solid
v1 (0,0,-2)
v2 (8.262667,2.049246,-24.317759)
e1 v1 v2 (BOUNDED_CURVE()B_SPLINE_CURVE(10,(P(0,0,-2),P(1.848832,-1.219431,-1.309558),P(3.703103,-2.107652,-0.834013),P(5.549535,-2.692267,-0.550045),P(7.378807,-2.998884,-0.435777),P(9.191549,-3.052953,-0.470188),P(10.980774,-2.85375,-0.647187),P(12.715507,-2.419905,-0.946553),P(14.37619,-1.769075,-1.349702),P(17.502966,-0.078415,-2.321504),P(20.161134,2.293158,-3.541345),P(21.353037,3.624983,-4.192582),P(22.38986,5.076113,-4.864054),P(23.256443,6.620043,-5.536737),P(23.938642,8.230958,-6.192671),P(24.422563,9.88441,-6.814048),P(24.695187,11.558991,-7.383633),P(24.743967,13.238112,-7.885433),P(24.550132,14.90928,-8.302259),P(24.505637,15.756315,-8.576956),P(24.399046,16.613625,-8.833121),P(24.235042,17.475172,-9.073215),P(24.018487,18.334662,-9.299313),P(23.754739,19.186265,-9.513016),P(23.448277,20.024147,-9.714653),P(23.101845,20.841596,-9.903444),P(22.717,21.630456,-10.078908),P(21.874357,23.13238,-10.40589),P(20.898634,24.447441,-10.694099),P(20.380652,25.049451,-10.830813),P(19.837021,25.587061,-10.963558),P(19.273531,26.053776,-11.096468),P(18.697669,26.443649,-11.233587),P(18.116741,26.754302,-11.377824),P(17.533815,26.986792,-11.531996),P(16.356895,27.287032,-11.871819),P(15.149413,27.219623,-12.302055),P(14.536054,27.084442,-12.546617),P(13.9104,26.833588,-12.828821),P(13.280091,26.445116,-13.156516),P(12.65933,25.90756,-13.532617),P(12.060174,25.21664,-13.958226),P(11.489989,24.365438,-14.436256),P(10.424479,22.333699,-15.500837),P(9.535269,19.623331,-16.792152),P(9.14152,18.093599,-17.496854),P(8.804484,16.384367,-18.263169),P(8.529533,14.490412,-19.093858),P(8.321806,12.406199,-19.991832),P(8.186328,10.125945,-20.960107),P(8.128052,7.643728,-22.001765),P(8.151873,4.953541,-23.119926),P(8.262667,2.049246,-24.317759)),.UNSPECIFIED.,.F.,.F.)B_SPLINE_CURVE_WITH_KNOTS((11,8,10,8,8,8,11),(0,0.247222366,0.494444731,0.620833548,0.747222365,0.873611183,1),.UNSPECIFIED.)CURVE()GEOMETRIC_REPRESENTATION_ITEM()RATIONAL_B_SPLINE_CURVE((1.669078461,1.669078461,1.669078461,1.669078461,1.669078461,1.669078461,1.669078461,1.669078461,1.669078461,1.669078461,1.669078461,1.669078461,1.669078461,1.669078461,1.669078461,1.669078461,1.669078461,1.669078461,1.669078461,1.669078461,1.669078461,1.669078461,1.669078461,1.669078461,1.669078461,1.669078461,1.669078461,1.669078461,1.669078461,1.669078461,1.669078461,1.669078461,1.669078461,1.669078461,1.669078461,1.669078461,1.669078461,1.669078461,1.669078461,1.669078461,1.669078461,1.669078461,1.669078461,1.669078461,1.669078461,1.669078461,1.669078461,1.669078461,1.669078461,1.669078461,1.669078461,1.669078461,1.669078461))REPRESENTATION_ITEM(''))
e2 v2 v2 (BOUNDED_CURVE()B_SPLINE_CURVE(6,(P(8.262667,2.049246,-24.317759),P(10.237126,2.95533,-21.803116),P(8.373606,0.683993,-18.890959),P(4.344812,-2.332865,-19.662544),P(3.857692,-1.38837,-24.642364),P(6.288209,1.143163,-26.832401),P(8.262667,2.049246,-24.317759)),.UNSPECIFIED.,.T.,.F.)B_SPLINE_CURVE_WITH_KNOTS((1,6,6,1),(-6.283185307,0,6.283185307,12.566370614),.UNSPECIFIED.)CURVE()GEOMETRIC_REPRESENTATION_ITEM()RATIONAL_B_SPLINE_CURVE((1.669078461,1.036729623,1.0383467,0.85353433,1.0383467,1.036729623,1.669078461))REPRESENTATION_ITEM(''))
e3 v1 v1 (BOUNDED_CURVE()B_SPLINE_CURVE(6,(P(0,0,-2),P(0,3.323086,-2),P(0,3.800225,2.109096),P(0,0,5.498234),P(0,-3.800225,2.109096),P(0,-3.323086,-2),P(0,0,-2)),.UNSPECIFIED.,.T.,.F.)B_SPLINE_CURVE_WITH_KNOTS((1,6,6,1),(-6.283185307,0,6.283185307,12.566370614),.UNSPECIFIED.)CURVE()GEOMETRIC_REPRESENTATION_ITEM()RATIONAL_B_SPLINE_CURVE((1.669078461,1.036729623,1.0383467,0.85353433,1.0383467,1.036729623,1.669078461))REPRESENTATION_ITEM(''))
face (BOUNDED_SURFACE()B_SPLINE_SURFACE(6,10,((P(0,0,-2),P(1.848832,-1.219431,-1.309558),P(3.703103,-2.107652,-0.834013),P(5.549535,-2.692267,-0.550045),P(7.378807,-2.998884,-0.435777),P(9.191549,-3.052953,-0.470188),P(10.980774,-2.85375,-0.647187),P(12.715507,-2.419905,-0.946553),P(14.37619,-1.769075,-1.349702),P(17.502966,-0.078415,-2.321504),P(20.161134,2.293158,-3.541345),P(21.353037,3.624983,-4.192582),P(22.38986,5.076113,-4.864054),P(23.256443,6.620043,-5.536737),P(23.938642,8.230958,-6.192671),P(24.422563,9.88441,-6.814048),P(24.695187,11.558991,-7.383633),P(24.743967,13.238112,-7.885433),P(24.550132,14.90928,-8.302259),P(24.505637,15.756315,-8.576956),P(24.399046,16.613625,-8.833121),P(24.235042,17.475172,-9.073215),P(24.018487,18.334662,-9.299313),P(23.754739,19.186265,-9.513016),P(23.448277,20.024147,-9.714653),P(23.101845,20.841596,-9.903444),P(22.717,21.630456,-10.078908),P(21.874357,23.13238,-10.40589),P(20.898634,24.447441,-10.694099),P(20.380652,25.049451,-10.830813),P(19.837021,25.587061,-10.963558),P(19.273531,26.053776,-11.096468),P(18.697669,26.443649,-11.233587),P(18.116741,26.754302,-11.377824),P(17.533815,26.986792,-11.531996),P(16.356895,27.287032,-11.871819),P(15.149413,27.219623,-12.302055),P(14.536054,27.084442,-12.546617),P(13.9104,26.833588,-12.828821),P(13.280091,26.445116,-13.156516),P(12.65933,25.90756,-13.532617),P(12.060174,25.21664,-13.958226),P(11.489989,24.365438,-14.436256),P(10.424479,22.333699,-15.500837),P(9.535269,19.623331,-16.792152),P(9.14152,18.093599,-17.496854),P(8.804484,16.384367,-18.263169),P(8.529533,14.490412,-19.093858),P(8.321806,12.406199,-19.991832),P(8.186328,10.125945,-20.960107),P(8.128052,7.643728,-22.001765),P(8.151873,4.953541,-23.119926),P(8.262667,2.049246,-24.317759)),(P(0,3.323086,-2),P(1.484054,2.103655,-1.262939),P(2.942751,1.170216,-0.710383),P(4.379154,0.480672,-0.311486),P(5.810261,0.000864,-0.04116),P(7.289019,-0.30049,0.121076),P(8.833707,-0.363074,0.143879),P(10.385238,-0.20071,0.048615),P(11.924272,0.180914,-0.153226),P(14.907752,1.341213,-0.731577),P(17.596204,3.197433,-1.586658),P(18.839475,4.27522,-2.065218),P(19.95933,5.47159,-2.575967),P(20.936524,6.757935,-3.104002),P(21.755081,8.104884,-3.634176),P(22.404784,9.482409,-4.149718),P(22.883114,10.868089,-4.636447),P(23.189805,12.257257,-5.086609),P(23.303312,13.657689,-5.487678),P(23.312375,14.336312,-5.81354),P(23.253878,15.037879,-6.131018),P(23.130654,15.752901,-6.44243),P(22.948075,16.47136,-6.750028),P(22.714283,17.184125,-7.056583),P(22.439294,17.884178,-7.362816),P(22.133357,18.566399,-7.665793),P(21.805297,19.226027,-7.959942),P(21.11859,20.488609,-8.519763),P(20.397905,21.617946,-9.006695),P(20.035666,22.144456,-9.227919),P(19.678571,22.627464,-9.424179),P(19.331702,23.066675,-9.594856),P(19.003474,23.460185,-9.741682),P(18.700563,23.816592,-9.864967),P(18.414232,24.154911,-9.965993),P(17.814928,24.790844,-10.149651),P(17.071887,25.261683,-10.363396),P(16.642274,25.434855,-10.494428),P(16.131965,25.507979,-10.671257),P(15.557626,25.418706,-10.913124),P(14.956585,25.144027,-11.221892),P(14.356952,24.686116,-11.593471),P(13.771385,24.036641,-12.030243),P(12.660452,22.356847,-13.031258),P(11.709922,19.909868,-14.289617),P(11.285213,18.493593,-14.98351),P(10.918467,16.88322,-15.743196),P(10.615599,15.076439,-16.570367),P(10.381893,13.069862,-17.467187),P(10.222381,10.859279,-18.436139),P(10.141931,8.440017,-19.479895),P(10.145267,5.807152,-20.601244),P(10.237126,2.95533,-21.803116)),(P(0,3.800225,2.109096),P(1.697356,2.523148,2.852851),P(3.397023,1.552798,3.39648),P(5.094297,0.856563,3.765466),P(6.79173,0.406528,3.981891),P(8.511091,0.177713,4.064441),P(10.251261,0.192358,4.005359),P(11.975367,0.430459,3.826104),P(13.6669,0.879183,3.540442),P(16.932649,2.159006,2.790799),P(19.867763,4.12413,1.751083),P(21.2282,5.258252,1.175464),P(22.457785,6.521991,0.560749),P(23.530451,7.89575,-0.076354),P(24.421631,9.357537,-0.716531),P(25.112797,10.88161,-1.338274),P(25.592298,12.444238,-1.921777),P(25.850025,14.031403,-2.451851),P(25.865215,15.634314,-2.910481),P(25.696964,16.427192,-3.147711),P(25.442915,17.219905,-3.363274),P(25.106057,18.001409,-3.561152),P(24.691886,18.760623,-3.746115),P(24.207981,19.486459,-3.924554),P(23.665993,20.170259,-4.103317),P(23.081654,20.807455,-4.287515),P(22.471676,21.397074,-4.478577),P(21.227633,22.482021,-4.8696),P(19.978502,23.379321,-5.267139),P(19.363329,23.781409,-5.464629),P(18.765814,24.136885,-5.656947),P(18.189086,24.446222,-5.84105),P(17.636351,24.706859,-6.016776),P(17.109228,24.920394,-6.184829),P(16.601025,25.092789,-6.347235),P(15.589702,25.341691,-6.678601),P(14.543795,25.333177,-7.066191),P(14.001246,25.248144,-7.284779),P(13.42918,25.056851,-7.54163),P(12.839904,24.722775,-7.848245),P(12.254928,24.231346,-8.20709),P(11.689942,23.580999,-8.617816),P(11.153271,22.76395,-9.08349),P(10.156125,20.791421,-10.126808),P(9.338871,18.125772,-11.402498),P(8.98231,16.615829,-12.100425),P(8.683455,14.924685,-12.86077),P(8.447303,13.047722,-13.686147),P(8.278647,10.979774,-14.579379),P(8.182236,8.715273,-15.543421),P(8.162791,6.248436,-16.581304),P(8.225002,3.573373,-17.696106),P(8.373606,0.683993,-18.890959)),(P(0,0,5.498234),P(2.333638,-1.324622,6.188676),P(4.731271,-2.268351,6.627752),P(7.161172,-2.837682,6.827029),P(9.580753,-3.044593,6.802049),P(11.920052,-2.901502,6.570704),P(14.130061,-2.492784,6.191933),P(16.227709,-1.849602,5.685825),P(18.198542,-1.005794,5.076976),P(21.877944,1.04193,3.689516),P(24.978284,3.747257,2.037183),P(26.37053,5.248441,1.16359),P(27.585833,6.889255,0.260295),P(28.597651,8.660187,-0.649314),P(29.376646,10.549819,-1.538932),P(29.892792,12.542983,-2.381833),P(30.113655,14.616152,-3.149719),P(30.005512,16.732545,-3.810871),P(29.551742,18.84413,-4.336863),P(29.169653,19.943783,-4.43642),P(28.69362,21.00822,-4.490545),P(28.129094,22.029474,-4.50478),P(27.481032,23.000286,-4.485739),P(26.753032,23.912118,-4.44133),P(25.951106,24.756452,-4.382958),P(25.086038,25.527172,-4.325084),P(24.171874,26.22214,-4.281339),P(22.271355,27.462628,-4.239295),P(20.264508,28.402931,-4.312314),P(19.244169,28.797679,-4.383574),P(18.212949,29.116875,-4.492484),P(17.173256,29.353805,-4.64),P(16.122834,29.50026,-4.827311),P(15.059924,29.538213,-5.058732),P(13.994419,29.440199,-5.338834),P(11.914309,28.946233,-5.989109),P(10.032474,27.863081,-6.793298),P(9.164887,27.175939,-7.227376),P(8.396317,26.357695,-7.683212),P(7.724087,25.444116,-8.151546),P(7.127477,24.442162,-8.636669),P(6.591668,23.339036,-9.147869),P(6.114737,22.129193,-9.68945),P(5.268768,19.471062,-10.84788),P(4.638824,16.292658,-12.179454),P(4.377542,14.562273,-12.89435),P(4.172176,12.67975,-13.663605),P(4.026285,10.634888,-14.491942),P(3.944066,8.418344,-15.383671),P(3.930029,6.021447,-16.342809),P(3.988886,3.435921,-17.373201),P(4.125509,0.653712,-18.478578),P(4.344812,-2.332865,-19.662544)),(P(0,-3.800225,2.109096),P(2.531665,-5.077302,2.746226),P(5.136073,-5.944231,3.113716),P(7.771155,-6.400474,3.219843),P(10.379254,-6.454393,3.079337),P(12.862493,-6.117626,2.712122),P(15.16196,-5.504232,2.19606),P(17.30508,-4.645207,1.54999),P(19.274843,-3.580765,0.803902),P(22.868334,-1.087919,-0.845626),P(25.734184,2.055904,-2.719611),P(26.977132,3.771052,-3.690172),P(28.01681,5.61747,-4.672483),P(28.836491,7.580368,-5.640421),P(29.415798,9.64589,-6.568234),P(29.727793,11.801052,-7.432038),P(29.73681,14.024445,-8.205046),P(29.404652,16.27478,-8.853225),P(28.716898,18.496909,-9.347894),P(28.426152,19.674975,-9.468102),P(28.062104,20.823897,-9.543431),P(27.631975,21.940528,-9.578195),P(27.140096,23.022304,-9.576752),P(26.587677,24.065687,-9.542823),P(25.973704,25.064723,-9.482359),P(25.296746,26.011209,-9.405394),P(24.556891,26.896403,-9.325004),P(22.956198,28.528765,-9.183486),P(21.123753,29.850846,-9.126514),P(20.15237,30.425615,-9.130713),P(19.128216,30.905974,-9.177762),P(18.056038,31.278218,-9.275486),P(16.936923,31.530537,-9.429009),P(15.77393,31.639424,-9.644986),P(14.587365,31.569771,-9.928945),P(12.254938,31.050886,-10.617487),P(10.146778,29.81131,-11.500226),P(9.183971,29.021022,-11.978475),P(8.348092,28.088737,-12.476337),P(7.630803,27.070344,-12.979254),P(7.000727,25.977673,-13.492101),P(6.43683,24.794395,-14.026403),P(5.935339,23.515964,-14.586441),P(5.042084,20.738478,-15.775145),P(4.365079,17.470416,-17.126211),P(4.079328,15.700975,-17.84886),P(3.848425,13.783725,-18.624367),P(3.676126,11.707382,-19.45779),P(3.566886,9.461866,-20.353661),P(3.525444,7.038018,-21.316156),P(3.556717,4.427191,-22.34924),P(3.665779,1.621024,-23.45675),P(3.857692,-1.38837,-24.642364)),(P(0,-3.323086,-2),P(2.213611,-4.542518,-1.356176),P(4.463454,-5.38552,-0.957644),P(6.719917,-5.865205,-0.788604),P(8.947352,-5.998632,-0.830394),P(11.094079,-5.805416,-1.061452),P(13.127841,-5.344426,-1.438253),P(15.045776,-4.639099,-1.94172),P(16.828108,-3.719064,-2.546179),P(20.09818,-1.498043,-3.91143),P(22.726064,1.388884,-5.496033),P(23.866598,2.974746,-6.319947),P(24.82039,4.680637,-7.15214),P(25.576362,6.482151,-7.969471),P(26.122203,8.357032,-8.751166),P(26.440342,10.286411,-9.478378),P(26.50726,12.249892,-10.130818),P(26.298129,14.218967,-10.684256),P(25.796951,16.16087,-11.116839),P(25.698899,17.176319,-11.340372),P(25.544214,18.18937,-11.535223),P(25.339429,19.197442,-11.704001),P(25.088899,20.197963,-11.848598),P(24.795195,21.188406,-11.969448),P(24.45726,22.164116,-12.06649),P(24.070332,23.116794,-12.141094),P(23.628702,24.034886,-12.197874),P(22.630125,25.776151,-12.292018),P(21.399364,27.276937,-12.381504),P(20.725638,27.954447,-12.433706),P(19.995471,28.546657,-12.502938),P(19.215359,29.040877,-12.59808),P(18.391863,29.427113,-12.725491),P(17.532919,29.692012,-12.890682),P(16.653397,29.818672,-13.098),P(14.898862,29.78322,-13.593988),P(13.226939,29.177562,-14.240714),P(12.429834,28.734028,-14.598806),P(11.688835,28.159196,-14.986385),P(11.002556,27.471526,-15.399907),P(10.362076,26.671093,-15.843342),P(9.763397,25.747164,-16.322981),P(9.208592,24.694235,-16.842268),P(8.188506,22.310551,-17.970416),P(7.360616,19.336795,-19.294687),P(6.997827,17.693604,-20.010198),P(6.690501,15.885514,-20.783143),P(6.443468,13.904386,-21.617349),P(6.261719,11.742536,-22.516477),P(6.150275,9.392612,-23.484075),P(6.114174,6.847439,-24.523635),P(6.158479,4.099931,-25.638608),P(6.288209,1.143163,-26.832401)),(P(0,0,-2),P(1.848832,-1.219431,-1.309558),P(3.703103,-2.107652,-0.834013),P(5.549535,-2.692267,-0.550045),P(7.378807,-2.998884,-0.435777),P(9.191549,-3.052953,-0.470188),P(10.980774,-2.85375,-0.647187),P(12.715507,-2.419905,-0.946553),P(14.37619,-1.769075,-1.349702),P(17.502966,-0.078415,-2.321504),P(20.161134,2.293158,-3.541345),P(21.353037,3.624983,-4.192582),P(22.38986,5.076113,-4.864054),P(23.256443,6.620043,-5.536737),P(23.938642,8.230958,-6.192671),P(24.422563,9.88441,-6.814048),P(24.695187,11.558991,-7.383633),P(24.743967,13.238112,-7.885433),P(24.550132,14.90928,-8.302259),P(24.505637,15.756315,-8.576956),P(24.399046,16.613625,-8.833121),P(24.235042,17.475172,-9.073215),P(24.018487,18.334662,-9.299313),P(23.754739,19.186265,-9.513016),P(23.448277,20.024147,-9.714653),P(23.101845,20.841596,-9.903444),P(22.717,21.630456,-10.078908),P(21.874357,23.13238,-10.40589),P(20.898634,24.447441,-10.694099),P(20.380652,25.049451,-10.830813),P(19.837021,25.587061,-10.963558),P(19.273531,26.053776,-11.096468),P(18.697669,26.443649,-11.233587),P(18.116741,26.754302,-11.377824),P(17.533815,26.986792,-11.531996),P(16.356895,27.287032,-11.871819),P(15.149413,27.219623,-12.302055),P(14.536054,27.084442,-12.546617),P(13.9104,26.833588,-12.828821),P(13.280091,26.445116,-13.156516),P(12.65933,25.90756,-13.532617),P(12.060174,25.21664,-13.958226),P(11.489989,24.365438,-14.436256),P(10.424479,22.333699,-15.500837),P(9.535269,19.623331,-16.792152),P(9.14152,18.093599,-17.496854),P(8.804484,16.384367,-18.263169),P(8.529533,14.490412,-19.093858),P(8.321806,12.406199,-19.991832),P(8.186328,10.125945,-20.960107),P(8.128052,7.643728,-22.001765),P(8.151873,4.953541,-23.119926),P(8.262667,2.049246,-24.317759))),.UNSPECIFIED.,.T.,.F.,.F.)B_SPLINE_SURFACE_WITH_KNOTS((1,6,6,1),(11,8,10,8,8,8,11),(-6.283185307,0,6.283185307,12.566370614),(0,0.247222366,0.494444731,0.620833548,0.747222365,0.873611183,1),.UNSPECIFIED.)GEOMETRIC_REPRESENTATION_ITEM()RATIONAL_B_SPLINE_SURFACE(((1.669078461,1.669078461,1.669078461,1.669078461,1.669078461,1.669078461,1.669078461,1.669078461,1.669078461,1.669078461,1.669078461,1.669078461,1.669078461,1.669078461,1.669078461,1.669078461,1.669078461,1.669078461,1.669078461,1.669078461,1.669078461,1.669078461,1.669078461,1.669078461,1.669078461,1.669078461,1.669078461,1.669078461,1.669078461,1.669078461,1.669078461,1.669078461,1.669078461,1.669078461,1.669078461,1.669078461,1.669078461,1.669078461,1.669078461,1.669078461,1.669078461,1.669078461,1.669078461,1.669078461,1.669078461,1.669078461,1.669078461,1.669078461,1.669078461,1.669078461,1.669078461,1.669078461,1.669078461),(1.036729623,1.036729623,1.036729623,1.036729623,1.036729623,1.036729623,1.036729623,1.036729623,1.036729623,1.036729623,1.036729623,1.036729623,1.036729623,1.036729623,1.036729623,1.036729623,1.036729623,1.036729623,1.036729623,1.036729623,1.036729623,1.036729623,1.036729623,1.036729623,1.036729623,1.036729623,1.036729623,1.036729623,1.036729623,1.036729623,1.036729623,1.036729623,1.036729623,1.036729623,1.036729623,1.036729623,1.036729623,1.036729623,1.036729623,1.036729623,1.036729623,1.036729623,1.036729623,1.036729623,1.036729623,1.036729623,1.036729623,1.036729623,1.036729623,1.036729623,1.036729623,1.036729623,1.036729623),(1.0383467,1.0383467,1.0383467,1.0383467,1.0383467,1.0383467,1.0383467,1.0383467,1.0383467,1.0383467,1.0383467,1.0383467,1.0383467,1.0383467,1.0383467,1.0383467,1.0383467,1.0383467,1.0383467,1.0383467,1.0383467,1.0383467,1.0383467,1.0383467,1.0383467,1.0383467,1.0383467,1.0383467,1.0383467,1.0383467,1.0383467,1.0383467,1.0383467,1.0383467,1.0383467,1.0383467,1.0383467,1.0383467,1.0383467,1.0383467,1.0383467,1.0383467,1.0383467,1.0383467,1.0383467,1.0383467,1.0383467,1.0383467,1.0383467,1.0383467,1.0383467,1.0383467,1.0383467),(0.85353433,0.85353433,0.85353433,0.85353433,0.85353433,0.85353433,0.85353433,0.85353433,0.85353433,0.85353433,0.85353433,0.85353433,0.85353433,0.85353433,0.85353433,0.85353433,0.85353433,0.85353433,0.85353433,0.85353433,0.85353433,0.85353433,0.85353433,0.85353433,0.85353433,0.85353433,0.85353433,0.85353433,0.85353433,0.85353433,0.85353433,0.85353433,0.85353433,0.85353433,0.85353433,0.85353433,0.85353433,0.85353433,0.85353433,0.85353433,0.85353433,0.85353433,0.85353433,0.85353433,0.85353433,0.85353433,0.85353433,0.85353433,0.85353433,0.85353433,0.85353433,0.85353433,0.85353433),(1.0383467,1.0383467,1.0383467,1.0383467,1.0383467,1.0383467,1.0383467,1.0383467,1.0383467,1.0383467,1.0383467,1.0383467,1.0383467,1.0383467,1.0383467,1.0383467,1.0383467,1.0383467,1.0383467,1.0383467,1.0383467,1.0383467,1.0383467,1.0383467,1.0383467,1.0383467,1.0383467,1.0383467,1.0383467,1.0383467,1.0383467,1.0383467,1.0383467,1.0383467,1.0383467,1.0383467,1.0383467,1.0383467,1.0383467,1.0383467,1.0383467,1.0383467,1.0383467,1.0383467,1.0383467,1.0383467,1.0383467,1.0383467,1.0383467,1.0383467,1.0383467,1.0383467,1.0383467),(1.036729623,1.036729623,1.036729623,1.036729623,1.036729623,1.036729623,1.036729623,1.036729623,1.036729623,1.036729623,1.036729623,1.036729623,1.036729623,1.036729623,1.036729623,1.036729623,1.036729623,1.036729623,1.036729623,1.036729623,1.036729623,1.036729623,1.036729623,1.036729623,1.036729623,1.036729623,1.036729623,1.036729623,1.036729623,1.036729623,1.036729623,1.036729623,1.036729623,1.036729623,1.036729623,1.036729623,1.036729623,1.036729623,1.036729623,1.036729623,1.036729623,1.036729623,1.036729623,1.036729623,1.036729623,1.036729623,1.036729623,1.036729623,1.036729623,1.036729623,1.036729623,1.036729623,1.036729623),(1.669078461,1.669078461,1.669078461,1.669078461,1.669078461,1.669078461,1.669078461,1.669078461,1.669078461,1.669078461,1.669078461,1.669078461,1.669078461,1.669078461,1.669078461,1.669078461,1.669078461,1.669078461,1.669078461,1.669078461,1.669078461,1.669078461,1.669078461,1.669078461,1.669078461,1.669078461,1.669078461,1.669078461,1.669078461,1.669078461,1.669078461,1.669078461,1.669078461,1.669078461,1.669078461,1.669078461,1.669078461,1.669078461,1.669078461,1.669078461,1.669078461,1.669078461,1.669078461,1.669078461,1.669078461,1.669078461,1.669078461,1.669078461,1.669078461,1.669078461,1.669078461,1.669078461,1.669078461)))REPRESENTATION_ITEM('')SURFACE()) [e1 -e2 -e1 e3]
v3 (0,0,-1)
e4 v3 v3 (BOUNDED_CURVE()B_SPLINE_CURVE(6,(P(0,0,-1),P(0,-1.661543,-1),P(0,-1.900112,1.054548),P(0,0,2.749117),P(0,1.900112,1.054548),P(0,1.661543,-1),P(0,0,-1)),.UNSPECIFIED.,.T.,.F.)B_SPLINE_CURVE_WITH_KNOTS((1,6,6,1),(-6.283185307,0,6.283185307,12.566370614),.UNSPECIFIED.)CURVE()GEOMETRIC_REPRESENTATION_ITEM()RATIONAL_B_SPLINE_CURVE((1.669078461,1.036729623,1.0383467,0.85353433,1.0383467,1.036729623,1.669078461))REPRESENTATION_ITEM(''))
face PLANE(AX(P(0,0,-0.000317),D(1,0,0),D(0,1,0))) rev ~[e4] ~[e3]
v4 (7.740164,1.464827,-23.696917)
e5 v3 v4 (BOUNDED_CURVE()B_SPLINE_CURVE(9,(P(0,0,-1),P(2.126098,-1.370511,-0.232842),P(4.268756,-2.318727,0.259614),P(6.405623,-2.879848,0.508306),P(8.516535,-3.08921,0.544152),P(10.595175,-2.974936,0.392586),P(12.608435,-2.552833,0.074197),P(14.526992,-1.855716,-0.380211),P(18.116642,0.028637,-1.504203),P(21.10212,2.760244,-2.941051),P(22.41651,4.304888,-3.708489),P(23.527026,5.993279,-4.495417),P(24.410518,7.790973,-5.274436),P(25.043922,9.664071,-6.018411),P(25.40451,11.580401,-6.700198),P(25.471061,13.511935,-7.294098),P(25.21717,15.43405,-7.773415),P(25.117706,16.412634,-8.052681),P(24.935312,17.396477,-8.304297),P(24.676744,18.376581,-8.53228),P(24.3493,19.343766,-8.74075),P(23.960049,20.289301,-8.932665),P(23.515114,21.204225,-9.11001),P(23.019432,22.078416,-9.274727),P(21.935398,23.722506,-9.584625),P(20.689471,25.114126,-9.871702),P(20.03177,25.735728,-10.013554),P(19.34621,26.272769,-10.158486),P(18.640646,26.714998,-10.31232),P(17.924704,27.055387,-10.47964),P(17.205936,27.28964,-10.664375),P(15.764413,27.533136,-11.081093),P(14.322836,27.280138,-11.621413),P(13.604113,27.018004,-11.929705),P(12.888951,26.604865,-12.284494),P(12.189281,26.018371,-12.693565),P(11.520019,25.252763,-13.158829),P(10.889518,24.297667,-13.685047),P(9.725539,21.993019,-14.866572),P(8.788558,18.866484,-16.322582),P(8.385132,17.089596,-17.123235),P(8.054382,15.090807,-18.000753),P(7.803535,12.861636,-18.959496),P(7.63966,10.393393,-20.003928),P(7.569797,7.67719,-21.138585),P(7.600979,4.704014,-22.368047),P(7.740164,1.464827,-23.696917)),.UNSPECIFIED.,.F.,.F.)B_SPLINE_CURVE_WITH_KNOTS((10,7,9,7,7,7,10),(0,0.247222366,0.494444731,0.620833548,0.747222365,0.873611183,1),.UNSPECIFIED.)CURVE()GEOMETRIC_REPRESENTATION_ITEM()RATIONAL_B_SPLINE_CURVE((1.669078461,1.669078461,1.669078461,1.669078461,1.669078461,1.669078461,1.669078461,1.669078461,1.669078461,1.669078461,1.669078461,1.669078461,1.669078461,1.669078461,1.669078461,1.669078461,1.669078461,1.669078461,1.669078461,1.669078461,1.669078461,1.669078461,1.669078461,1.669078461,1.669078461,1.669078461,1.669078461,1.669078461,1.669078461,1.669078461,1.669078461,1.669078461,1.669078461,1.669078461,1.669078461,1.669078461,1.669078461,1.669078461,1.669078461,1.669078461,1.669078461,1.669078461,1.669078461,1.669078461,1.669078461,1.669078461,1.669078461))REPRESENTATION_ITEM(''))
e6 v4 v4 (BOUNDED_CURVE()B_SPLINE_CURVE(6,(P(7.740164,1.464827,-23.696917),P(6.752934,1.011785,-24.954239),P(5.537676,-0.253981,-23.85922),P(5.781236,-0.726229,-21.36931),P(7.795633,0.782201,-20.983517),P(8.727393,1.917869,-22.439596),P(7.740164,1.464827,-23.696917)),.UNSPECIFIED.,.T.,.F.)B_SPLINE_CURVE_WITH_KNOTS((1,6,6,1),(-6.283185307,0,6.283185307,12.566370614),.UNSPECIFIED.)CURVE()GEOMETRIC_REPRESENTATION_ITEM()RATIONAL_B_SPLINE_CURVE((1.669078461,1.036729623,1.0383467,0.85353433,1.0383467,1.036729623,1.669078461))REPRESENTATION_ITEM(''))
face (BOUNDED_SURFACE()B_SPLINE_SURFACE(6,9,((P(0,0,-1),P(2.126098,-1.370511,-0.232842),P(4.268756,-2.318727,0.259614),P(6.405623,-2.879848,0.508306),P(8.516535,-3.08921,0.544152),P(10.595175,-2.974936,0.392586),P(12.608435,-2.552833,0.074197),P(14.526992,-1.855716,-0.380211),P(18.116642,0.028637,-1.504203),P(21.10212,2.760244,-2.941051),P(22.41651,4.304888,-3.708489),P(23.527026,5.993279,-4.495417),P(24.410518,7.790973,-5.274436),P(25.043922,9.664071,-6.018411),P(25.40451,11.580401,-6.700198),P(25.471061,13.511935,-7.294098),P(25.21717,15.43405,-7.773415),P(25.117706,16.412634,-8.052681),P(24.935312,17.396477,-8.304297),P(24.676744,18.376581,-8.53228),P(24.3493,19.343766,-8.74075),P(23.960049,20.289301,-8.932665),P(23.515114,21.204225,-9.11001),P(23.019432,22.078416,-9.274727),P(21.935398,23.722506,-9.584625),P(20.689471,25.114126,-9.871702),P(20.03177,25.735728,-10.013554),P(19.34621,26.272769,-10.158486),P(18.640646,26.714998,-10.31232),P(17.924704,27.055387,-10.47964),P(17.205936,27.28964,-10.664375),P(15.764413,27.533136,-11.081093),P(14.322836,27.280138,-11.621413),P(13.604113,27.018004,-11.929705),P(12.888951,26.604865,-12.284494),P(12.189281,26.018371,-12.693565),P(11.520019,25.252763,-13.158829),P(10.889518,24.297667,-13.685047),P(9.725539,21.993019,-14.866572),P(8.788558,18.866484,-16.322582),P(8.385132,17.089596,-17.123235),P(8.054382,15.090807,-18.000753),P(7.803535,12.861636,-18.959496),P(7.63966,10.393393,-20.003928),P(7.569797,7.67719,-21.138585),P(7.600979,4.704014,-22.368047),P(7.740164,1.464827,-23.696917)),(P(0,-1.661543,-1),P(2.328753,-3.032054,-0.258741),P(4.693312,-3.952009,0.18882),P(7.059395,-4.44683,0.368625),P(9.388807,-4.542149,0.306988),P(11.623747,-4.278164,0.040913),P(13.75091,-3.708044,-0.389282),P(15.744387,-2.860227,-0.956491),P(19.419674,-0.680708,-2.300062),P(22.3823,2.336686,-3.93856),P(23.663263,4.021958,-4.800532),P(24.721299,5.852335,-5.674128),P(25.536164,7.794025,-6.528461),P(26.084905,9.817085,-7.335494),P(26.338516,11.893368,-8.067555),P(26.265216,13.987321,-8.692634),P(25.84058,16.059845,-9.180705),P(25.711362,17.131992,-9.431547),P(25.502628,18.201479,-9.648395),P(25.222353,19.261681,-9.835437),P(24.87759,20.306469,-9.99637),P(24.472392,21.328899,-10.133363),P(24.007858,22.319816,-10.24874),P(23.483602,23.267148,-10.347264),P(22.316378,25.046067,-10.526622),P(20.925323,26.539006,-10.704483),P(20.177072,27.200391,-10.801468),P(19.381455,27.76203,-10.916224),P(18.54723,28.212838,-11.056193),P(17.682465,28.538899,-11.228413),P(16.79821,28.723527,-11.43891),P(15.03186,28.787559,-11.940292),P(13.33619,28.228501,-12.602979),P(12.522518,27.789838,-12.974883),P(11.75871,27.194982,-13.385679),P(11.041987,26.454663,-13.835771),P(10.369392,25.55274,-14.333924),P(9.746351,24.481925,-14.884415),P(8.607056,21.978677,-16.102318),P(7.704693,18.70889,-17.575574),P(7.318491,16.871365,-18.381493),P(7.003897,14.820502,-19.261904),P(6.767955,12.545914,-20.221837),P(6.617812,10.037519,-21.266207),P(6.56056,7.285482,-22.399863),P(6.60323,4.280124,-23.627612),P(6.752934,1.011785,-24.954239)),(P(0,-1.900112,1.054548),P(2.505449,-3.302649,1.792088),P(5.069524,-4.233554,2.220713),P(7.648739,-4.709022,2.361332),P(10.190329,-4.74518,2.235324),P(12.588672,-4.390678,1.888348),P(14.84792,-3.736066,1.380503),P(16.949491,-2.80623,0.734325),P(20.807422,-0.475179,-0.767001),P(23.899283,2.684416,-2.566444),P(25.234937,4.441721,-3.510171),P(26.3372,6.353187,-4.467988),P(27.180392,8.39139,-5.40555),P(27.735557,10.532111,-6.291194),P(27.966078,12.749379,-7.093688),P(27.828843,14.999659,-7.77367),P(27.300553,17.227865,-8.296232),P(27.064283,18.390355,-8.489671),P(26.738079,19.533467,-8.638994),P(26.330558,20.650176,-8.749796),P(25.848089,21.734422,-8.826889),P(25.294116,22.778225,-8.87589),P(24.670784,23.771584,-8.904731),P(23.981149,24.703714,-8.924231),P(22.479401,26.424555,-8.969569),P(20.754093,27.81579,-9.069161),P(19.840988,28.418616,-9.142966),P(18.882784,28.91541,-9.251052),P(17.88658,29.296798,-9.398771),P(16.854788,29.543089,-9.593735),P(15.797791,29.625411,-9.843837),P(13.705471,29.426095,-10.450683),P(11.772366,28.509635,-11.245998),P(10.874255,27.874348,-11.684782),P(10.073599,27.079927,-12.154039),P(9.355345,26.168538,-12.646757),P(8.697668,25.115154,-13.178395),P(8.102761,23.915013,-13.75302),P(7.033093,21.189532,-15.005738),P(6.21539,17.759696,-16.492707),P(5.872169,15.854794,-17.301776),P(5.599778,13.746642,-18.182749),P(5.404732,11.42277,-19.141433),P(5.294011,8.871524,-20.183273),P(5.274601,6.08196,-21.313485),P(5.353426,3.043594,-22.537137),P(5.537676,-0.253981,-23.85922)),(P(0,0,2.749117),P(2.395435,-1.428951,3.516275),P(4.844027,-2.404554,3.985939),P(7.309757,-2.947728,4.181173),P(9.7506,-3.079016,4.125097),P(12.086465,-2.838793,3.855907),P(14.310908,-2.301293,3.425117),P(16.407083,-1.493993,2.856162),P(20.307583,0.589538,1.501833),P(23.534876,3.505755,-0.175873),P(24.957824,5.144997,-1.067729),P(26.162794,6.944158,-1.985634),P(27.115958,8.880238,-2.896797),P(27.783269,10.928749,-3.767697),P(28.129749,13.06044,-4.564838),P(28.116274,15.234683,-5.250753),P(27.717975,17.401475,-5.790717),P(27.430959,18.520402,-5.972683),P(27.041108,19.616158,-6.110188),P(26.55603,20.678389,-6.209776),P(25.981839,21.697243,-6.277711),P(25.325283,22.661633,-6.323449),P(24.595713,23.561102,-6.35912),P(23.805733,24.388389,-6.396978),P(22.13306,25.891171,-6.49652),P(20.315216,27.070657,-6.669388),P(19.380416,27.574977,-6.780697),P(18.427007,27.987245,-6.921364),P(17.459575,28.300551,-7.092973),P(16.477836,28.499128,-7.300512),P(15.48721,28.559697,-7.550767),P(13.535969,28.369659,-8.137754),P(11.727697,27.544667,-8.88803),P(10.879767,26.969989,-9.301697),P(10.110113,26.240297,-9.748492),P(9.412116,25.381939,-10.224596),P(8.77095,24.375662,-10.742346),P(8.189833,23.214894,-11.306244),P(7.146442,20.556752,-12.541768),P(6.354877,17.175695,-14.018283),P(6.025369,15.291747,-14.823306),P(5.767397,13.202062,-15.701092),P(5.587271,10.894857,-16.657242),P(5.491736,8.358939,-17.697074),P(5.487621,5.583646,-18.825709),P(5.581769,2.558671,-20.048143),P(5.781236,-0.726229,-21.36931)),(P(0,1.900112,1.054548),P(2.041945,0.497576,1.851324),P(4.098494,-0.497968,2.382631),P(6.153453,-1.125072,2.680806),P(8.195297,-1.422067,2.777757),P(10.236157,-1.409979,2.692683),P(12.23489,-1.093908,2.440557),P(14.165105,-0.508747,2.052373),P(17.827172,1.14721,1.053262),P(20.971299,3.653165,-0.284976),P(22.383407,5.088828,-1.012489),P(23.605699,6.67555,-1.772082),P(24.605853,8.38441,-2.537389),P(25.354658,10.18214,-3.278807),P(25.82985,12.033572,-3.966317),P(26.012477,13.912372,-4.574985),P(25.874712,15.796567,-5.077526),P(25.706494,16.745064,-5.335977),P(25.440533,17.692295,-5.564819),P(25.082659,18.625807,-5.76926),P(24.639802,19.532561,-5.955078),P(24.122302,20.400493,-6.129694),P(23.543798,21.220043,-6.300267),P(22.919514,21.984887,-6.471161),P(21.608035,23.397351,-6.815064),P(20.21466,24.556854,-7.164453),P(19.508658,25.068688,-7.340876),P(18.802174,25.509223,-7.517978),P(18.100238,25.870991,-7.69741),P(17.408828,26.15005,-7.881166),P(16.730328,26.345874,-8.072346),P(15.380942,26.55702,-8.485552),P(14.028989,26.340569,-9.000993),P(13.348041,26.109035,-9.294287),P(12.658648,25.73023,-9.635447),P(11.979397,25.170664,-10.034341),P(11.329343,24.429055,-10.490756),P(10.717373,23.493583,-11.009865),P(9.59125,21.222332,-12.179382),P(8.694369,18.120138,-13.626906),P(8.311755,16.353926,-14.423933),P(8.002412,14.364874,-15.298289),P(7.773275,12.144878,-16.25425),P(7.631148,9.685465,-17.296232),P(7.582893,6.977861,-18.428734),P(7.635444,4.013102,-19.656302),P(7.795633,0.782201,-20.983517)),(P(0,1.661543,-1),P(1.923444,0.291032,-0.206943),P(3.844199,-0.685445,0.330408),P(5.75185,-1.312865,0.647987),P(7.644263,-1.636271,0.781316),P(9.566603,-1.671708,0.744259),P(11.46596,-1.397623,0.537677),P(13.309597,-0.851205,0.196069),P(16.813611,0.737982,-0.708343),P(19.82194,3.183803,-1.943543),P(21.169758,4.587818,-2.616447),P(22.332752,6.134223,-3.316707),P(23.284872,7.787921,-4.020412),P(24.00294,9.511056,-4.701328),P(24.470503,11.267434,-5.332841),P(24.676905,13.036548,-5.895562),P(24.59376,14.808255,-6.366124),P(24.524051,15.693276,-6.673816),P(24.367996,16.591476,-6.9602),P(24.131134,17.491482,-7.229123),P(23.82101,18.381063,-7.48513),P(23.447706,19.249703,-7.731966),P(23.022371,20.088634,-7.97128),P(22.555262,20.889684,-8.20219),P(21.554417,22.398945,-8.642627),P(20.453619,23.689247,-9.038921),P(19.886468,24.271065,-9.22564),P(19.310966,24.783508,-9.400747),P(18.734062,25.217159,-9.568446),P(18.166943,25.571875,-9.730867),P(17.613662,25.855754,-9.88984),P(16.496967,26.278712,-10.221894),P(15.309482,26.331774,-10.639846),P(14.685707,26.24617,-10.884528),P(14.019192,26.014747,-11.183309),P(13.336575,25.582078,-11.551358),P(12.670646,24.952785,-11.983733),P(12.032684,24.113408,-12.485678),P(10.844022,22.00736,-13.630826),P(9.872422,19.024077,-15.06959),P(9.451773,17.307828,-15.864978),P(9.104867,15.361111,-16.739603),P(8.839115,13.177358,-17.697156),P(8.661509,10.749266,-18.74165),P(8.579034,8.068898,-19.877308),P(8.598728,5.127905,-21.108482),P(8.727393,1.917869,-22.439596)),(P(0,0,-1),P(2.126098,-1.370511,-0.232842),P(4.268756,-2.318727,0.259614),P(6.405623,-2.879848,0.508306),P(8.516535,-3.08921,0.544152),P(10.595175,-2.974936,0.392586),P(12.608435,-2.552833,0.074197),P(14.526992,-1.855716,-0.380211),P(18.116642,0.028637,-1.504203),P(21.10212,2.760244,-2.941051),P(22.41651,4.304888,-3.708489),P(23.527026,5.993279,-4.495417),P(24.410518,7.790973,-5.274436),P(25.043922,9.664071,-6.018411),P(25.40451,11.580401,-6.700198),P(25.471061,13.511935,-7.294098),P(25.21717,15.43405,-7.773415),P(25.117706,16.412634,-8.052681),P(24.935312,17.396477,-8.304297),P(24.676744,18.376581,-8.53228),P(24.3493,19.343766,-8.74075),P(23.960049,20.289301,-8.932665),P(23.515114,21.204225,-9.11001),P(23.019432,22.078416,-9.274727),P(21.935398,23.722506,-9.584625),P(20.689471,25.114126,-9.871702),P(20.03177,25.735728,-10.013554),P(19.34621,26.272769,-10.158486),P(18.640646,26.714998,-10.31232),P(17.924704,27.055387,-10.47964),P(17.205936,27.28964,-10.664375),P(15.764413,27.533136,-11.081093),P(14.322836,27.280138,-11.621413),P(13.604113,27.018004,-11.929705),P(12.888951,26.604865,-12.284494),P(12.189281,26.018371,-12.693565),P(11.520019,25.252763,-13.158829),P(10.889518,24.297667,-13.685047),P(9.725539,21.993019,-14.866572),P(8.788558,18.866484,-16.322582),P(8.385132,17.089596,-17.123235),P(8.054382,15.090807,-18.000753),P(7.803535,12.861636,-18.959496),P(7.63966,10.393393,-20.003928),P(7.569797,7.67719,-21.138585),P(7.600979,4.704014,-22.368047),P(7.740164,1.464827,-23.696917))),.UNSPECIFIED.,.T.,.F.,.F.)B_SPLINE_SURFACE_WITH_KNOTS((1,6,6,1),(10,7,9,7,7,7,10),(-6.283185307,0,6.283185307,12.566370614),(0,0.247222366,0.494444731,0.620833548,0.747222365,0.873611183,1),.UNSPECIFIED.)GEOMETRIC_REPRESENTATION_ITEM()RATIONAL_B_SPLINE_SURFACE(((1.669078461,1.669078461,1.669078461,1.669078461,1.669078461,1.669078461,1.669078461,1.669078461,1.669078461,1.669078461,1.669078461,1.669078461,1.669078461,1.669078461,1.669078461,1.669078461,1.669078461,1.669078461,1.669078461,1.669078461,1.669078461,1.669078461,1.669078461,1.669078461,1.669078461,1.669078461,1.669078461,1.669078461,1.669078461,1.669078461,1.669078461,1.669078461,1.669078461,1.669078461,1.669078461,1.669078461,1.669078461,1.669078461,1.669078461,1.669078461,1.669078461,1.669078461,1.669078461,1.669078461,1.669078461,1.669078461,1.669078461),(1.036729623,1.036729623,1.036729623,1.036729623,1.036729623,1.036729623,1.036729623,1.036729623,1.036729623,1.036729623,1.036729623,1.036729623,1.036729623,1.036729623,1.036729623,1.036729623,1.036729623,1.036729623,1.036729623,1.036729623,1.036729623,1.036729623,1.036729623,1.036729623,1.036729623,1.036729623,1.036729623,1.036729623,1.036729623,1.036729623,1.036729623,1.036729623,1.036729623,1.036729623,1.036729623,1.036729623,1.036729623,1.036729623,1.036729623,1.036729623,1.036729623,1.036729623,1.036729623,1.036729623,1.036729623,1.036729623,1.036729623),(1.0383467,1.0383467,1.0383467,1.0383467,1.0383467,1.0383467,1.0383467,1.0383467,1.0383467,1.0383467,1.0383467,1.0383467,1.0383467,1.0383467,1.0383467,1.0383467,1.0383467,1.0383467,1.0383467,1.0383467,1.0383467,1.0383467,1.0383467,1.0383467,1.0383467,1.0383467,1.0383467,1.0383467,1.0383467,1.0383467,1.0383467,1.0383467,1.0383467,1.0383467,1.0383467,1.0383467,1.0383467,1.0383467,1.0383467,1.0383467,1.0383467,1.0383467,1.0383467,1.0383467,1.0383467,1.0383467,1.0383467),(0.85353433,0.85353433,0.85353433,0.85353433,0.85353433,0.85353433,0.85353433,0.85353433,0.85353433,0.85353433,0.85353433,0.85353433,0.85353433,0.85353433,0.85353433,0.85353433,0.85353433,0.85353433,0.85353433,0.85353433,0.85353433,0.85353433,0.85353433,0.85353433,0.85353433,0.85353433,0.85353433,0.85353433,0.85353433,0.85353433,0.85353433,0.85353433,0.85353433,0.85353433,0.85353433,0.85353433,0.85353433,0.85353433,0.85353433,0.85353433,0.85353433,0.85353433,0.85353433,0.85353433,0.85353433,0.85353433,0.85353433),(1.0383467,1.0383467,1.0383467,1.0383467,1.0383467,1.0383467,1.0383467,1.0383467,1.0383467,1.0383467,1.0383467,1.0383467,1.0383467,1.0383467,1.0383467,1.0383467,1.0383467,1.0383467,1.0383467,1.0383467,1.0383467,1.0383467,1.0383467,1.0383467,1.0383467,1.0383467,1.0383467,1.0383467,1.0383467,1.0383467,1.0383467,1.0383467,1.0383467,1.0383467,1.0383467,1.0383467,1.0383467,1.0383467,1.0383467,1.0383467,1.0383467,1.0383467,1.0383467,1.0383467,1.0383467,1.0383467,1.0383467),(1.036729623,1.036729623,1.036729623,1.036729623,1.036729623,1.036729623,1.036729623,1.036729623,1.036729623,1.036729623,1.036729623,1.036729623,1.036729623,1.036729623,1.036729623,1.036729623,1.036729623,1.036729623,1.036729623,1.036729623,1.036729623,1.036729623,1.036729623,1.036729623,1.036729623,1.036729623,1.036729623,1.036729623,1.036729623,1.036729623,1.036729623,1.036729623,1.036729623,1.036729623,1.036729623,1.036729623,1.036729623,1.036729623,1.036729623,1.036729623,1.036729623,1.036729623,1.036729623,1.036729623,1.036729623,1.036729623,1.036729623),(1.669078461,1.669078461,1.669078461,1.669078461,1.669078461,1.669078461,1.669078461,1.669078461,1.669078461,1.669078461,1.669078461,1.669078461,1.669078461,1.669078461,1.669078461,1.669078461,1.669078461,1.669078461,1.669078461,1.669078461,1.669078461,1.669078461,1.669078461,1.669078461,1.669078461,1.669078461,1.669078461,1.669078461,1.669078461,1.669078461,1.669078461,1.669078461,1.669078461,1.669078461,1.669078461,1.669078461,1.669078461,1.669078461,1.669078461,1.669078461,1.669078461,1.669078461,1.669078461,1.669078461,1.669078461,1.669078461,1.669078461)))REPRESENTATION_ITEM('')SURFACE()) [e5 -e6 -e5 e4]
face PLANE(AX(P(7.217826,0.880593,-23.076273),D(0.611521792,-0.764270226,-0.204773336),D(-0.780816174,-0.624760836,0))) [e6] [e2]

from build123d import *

# Parameters (mm, degrees)
SKETCH1_R   = 2
SKETCH1_R_2 = 1


with BuildPart() as part:
    # Sweep1: sweep along a curve in space
    with BuildLine() as sweep1_path:
        add(Edge.make_bspline(
            [(0, 0, 0), (13.187629303, -8.316592209, 4.602948669), (42.414414878, 16.663238408, -13.345590454), (5.354496925, 39.896969297, -7.154289197), (7.21766, 0.880408015, -23.076075845)],
            knots=[0, 0, 0, 0, 0.494444731, 1, 1, 1, 1], degree=3))
    # Sketch1 → Sweep1 (sweep)
    with BuildSketch(Plane(origin=(0, 0, 0), x_dir=(0, 0, -1), z_dir=(1, 0, 0))):
        Circle(SKETCH1_R)
        Circle(SKETCH1_R_2, mode=Mode.SUBTRACT)
    sweep(path=sweep1_path.line, is_frenet=True)


solid = part.part
